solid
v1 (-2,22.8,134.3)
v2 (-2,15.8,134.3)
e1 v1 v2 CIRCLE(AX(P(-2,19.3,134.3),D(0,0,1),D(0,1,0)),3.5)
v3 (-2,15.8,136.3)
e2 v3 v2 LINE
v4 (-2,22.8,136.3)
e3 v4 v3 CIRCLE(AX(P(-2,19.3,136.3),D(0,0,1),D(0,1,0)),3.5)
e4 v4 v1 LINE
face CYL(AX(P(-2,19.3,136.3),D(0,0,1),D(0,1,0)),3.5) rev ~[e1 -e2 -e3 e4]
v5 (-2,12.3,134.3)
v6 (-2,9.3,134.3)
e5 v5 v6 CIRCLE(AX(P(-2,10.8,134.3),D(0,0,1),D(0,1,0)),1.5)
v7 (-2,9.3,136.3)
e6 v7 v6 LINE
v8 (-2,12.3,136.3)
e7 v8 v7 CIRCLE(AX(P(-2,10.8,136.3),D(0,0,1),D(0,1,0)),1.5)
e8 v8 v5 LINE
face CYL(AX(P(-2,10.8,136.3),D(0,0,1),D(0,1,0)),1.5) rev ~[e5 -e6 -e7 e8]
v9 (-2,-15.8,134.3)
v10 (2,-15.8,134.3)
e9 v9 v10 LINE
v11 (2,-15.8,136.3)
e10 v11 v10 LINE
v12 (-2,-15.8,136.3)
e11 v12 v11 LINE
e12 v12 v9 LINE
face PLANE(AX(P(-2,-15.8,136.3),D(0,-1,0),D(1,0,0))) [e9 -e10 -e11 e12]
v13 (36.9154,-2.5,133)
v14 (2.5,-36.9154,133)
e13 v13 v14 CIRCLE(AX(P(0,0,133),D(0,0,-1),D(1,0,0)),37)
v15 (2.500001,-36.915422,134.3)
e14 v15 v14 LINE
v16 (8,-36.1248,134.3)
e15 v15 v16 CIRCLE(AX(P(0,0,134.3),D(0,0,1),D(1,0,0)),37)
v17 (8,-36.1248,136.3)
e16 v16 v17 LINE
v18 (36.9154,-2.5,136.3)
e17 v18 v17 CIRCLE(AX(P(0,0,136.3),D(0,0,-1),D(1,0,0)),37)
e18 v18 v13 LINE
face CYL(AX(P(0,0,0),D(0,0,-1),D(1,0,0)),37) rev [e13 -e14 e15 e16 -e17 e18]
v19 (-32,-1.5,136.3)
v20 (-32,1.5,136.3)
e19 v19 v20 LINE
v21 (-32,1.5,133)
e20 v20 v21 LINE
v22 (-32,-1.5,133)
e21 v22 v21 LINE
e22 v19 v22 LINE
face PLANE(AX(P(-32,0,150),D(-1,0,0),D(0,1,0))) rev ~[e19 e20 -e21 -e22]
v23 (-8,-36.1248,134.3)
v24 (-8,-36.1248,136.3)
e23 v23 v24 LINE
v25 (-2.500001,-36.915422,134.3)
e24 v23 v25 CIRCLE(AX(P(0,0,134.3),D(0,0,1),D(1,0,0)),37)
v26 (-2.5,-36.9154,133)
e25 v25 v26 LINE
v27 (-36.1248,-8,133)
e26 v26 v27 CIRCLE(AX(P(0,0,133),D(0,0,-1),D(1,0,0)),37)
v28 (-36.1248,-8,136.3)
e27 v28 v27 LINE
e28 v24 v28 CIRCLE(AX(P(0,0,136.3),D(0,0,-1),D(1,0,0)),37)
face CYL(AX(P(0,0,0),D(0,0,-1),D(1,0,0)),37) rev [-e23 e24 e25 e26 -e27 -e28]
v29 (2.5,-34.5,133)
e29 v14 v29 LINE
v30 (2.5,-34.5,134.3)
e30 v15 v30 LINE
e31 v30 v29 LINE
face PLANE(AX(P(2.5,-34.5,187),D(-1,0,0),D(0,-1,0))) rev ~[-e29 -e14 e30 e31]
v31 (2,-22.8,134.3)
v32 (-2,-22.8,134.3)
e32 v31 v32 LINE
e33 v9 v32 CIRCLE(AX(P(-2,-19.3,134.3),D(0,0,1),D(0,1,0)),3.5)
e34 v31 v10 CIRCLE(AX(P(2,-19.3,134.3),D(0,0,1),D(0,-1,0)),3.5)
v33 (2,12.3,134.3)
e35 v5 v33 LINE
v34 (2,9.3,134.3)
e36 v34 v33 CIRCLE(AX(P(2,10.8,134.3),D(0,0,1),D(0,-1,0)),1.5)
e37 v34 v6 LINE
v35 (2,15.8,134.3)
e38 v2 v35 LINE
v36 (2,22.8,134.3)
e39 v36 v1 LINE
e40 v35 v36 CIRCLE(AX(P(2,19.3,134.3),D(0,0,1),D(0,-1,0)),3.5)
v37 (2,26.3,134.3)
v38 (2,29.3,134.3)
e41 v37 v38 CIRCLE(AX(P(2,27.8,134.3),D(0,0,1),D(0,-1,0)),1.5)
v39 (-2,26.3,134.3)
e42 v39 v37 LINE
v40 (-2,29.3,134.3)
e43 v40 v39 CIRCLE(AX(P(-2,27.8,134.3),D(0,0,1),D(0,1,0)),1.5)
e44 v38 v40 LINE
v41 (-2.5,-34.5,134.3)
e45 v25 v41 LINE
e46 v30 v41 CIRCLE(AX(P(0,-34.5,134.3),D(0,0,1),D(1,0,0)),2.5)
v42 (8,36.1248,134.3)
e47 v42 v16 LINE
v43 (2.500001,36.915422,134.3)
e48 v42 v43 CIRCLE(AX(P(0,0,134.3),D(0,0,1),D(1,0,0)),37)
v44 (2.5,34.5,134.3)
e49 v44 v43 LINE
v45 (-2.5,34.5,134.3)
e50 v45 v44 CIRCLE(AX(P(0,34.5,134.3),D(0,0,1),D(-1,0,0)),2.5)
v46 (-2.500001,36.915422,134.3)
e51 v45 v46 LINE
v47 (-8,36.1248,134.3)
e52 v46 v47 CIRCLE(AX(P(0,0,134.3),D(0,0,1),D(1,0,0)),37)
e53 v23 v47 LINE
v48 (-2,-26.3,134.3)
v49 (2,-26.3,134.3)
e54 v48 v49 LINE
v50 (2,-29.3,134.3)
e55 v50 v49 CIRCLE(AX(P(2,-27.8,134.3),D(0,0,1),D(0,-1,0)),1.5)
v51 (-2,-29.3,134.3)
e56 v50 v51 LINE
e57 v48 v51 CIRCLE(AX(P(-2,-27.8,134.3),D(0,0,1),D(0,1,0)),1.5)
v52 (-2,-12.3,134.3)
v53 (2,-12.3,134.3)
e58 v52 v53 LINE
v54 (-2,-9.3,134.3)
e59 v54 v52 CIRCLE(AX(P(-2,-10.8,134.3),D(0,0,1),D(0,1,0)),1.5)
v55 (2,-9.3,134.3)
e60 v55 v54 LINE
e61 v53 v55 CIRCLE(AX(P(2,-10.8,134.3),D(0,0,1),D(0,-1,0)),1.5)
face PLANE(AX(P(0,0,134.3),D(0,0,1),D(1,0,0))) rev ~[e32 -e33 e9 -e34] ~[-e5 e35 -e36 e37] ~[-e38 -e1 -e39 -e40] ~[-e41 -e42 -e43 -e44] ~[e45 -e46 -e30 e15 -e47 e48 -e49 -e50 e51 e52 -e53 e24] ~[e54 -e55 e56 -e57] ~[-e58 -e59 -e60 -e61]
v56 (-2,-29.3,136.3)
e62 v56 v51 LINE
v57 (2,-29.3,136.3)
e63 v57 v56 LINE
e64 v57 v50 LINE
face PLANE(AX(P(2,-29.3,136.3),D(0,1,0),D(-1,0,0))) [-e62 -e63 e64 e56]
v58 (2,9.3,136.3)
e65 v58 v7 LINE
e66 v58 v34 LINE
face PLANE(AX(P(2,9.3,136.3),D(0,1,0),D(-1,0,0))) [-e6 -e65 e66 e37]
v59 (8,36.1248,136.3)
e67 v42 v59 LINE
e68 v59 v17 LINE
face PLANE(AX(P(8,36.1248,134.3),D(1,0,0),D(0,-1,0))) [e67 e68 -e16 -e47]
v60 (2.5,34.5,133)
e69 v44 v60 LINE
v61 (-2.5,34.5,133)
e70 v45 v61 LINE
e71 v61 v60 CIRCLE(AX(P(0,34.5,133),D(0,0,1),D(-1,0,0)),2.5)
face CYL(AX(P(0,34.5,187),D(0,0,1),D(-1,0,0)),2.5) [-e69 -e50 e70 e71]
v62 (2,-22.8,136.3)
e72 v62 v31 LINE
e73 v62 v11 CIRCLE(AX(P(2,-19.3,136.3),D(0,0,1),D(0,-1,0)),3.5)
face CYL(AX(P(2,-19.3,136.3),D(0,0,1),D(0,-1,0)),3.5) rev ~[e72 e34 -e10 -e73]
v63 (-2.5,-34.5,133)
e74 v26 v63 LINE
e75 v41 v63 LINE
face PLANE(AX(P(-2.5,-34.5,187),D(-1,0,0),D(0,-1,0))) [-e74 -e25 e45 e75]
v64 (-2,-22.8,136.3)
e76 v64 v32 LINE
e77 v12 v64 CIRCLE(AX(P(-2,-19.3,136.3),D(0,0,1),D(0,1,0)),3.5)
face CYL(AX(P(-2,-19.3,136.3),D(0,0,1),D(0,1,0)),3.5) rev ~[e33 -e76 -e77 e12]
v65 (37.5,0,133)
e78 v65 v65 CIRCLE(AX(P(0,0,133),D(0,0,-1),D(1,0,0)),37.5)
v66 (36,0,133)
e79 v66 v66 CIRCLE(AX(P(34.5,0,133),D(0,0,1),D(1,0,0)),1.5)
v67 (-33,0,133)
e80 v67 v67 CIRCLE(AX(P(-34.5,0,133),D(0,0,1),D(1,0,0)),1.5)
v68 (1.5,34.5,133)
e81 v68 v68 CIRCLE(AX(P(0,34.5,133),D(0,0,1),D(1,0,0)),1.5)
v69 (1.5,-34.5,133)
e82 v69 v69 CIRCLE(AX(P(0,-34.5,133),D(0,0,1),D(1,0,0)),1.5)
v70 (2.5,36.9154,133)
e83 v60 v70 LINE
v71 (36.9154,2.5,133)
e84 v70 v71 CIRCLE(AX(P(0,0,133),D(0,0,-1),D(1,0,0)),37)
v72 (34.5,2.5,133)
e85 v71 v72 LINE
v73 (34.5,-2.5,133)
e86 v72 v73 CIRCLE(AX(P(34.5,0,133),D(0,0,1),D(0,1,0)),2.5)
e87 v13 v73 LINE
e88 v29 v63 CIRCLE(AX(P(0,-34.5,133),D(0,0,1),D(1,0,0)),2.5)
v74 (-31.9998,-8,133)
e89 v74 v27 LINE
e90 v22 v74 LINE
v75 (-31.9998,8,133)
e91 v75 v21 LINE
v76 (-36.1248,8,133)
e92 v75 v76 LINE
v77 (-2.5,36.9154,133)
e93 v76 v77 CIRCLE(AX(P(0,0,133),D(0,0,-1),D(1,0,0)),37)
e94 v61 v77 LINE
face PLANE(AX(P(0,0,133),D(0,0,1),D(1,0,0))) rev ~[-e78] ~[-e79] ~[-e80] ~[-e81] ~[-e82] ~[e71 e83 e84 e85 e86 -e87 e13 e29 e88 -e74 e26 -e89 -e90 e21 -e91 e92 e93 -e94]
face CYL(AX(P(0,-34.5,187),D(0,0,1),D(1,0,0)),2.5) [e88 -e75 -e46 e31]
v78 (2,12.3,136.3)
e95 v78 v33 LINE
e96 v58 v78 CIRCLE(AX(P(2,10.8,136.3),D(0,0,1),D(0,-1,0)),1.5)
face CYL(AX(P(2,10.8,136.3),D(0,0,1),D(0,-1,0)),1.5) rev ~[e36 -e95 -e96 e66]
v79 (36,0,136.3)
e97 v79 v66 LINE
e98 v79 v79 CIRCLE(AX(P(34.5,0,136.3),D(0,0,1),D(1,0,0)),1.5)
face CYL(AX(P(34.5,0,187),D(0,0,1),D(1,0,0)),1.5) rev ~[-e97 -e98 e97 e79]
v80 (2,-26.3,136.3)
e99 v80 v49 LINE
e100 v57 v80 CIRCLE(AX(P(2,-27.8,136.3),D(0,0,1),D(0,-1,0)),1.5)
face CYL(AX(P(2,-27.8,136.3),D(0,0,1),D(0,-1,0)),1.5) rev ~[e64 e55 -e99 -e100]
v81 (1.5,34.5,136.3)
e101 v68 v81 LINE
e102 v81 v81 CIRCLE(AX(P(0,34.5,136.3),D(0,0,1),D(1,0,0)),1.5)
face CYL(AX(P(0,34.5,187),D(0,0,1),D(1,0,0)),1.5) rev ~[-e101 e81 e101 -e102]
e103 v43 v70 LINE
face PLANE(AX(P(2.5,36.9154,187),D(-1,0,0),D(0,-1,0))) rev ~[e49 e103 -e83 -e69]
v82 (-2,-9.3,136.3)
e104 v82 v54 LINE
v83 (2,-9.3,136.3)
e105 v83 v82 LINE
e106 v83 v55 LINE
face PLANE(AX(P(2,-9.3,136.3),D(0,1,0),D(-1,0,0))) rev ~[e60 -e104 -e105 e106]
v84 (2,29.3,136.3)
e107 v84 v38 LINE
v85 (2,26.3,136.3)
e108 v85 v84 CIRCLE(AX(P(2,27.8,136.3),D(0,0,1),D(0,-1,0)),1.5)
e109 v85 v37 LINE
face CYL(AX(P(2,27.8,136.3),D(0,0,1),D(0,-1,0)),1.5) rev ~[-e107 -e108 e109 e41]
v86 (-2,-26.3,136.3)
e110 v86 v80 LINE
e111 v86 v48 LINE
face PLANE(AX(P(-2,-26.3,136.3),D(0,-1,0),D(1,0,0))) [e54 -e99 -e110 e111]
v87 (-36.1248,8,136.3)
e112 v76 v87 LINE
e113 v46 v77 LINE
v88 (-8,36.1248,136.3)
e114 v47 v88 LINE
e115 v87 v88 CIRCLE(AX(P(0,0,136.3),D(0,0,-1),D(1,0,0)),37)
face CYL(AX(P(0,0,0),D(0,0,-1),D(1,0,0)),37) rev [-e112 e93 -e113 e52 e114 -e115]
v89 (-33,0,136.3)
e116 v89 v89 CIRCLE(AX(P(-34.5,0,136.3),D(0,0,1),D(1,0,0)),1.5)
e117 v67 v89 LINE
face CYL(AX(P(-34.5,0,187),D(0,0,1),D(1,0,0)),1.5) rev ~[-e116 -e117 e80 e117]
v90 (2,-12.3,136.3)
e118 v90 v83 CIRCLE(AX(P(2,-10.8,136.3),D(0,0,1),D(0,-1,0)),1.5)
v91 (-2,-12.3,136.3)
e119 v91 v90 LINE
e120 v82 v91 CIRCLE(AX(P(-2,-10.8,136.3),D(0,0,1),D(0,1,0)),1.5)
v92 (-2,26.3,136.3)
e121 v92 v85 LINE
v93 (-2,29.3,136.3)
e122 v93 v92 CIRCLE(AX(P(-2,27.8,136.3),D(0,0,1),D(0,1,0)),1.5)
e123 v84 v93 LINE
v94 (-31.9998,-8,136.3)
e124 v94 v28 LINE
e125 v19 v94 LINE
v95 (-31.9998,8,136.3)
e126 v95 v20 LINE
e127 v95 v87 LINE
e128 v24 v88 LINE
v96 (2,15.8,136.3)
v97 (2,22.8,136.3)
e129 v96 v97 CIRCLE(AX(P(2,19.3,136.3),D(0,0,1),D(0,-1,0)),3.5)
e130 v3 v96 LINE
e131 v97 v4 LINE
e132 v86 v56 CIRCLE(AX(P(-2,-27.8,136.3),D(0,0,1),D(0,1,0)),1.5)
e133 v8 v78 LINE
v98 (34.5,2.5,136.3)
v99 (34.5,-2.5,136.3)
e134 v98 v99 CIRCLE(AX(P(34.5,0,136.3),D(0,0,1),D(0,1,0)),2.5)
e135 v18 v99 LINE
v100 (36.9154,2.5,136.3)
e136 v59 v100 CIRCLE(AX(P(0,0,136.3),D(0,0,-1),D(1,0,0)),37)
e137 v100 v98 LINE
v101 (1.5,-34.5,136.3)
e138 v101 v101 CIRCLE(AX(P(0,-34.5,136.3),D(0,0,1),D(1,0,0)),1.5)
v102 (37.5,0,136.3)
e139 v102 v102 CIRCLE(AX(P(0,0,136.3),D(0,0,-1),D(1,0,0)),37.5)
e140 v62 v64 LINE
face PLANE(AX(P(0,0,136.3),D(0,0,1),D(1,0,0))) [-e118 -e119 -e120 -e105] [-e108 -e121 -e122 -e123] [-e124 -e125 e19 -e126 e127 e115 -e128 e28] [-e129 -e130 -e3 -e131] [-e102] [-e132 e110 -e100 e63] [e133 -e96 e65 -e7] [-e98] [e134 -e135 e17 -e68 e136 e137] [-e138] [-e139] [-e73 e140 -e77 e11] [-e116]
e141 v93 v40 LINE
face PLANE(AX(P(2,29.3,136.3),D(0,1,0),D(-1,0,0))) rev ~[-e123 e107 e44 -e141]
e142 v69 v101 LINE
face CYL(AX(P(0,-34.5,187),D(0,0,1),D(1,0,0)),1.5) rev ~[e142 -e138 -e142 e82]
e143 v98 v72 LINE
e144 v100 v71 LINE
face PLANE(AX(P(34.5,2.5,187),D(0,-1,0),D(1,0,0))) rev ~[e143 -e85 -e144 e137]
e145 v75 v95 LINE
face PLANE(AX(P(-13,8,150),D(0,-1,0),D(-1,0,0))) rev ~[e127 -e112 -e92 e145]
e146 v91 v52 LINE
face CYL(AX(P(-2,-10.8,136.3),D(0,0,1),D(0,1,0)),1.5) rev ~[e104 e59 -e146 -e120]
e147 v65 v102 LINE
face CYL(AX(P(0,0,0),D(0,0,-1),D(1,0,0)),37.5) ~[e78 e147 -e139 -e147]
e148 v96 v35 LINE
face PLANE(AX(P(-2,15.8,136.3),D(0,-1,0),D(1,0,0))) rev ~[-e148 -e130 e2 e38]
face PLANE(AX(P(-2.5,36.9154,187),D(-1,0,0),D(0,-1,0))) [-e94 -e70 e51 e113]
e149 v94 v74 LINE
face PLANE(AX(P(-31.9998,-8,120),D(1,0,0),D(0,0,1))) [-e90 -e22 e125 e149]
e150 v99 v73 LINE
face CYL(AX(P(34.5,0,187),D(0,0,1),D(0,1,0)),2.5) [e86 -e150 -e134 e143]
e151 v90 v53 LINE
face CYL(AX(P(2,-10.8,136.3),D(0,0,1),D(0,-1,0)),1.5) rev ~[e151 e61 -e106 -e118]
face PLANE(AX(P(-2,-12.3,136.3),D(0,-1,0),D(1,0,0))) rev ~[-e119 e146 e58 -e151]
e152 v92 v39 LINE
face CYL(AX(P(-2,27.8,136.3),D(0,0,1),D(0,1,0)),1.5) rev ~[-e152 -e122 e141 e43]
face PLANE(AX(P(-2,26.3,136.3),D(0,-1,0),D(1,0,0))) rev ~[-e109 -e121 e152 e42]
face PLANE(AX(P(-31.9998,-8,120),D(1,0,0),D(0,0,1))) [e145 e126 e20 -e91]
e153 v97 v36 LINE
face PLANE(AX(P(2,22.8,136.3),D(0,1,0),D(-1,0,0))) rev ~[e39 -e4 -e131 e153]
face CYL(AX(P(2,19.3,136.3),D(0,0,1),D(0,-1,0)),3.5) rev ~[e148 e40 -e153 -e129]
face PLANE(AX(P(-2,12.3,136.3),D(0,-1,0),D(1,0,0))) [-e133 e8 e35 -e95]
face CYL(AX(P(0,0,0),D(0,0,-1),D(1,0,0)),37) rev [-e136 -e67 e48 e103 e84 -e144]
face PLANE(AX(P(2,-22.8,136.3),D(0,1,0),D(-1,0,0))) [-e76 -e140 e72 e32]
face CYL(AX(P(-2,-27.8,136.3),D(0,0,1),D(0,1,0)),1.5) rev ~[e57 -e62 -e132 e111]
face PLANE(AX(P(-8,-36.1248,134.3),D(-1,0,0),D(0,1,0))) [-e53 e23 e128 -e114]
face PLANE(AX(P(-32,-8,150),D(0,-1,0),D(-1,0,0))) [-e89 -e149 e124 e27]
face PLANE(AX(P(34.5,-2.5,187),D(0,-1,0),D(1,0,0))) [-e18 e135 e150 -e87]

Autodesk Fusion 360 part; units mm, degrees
sketch "Esboço2" plane through (0, 0, 0) normal (0, 0, 1) x (1, 0, 0)
  circle A0 centre (0, 0) radius 37.5
  circle A1 centre (0, 0) radius 37
  dimension "d6" = 75
  dimension "d7" = 74
extrude "Extrusão2" add sketch "Esboço2" along normal blind 190
ref_plane "Plano de trabalho9" through (0, 0, 187) normal (0, 0, 1) x (1, 0, 0)
sketch "Esboço10" plane through (0, 0, 187) normal (0, 0, 1) x (1, 0, 0)
  circle A0 centre (0, 0) radius 34.5 construction
  line L0 (0, 0) -> (-68.1762, 0) construction
  line L1 (0, 0) -> (60, 0) construction
  line L2 (0, 0) -> (0, 45) construction
  line L3 (0, 0) -> (0, -43.1659) construction
  circle A1 centre (34.5, 0) radius 1.5
  line L4 (3, -43) -> (3, -42)
  circle A2 centre (0, 34.5) radius 1.5
  circle A3 centre (-34.5, 0) radius 1.5
  circle A4 centre (0, -34.5) radius 1.5
  arc A5 (34.5, 2.5) -> (34.5, -2.5) centre (34.5, 0) ccw
  arc A6 (-2.5, 34.5) -> (2.5, 34.5) centre (0, 34.5) ccw
  arc A7 (-34.5, -2.5) -> (-34.5, 2.5) centre (-34.5, 0) ccw
  arc A8 (2.5, -34.5) -> (-2.5, -34.5) centre (0, -34.5) ccw
  circle A9 centre (0, 0) radius 37
  line L5 (-36.9154, 2.5) -> (-34.4093, 2.5)
  line L6 (-36.9154, -2.5) -> (-34.4093, -2.5)
  line L7 (34.5, 2.5) -> (36.9154, 2.5)
  line L8 (34.5, -2.5) -> (36.9154, -2.5)
  line L9 (2.5, 36.9154) -> (2.5, 34.4093)
  line L10 (-2.5, 36.9154) -> (-2.5, 34.4093)
  line L11 (-2.5, -34.4093) -> (-2.5, -36.9154)
  line L12 (2.5, -34.4093) -> (2.5, -36.9154)
  dimension "d82" = 69
  dimension "d83" = 3
  dimension "d84" = 2.5
  dimension "d85" = 2.5
  dimension "d87" = 360
  dimension "d89" = 360
  dimension "d90" = 2.5
extrude "Extrusão12" add sketch "Esboço10" against normal blind 184 contours A5 A9 L7 L8 | A6 A9 L9 L10 | A8 A9 L11 L12 | A7 A9 L5 L6
thread "Rosca3"
ref_plane "Plano de trabalho3" through (0, 0, 32) normal (0, 0, 1) x (1, 0, 0)
sketch "Esboço3" plane through (0, 0, 32) normal (0, 0, 1) x (1, 0, 0)
  line L0 (0, 0) -> (0, 37) construction
  line L1 (34.2491, 14) -> (-34.2491, 14)
  circle A0 centre (0, 0) radius 37
  line L2 (31.1288, 20) -> (-31.1288, 20)
  line L3 (32.8634, 17) -> (-32.8634, 17)
  circle A1 centre (0, 0) radius 50
  circle A2 centre (0, 0) radius 37.5
  line L4 (-8, 0) -> (8, 0)
  line L5 (8, 0) -> (8, 36.1248)
  line L6 (-8, 0) -> (-8, 36.1248)
  circle A3 centre (0, 34.5) radius 1.5
  line L7 (1.5, 32.5) -> (1.5, 0)
  arc A4 (-2.5, 34.5) -> (2.5, 34.5) centre (0, 34.5) ccw
  line L8 (-1.5, 32.5) -> (-1.5, 0)
  line L9 (27.8634, 24.3441) -> (27.8634, 11)
  line L10 (27.8634, 11) -> (35.327, 11)
  line L11 (-27.8634, 11) -> (-35.327, 11)
  line L12 (-27.8634, 24.3441) -> (-27.8634, 11)
  line L13 (-30.4631, 21) -> (30.4631, 21)
  line L14 (-34.641, 13) -> (34.641, 13)
  line L15 (0, 32) -> (8, 32)
  line L16 (0, 32) -> (-8, 32)
  dimension "d12" = 6
  dimension "d15" = 3
  dimension "d17" = 75
  dimension "d18" = 100
  dimension "d41" = 14
  dimension "d51" = 8
  dimension "d52" = 16
  dimension "d99" = 3
  dimension "d100" = 2.5
  dimension "d115" = 6.5
  dimension "d123" = 5
  dimension "d124" = 6
  dimension "d143" = 4
  dimension "d144" = 4
extrude "Extrusão21" add sketch "Esboço3" along normal blind 6 and the other way blind 6 contours L1 A0 L9 L14 | L1 A0 L3 L9 | A0 L9 L10 L14 | A0 L2 L3 L9 | A0 L2 L9 L13 | A0 L9 L13 | A0 L11 L12 L14 | L1 A0 L12 L14 | L1 A0 L3 L12 | A0 L2 L3 L12 | A0 L12 L13 | A0 L2 L12 L13
sketch "Esboço18" plane through (-27.8634, 0, 0) normal (1, 0, 0) x (0, 1, 0)
  line L0 (24.3441, 26) -> (24.3441, 38)
  line L1 (24.3441, 38) -> (11, 38)
  line L2 (11, 38) -> (11, 26)
  line L3 (11, 26) -> (24.3441, 26)
  circle A0 centre (17, 32) radius 4
  point P0 (11, 32)
  dimension "d166" = 8
  dimension "d167" = 6
  dimension "d168" = 6
ref_plane "Plano de trabalho11" through (0, 0, 0) normal (1, 0, 0) x (0, 1, 0)
extrude "Extrusão23" cut sketch "Esboço18" against normal blind 15 contours A0
extrude "Extrusão7" add sketch "Esboço3" along normal blind 30 and the other way blind 30 contours L1 L5 L7 L14 | L1 L3 L5 L7 | L4 L5 L7 L14 | L2 L3 L5 L7 | L1 L6 L8 L14 | L1 L3 L6 L8 | L2 L5 L7 L13 | L2 L3 L6 L8 | L4 L6 L8 L14 | L5 L7 L13 L15 | A0 L5 L6 L7 A4 L8 L15 L16 | L2 L6 L8 L13 | L6 L8 L13 L16 | L7 A4 L15 | A4 L8 L16
sketch "Esboço19" plane through (27.8634, 0, 0) normal (-1, 0, 0) x (0, -1, 0)
  line L0 (-11, 26) -> (-11, 38)
  line L1 (-11, 38) -> (-24.3441, 38)
  line L2 (-24.3441, 38) -> (-24.3441, 26)
  line L3 (-24.3441, 26) -> (-11, 26)
extrude "Extrusão24" cut sketch "Esboço18" along normal blind 80 contours A0
sketch "Esboço11" plane through (8, 0, 0) normal (1, 0, 0) x (0, 1, 0)
  line L0 (0, 2) -> (36.1248, 2)
  line L1 (36.1248, 2) -> (36.1248, 62)
  line L2 (36.1248, 62) -> (0, 62)
  line L3 (0, 62) -> (0, 2)
  circle A0 centre (17, 32) radius 3
  circle A1 centre (17, 32) radius 9.5
  circle A2 centre (17, 32) radius 12.5
  line L4 (36.1248, 32) -> (36.1248, -5) construction
  line L5 (0, 32) -> (36.1248, 32)
  line L6 (30.1248, 2) -> (8.3278, 22.9976)
  line L7 (30.1248, 62) -> (8.3278, 41.0024)
  line L8 (30.1248, 2) -> (31.9998, 2)
  line L9 (31.9998, 2) -> (31.9998, 32)
  line L10 (30.1248, 62) -> (31.9998, 62)
  line L11 (31.9998, 62) -> (31.9998, 32)
  circle A3 centre (17, 32) radius 4
  point P0 (14, 32)
  point P1 (20, 32)
  dimension "d106" = 6
  dimension "d107" = 19
  dimension "d109" = 25
  dimension "d110" = 6
  dimension "d147" = 1.875
extrude "Extrusão13" cut sketch "Esboço11" against normal blind 16 contours L0 L3 A2 L5 L6 | L0 A2 L5 L6 L8 L9 | L2 L3 A2 L5 L7 | A1 A2 L5 | A1 A2 L5 | L2 A2 L5 L7 L10 L11 | A1 L5 A3 | A1 L5 A3 | A0 L5 A3 | A0 L5 A3 | A0 L5 | A0 L5
ref_plane "Plano de trabalho4" through (0, 0, 150) normal (0, 0, 1) x (1, 0, 0)
sketch "Esboço4" plane through (0, 0, 150) normal (0, 0, 1) x (1, 0, 0)
  circle A0 centre (0, 0) radius 37
  circle A1 centre (0, 0) radius 50
  circle A2 centre (0, 0) radius 37.5
  line L0 (-20, -31.1288) -> (-20, 31.1288)
  line L1 (-17, -32.8634) -> (-17, 32.8634)
  line L2 (-14, -34.2491) -> (-14, 34.2491)
  line L3 (0, 8) -> (0, -8)
  line L4 (0, 8) -> (-36.1248, 8)
  line L5 (0, -8) -> (-36.1248, -8)
  line L6 (0, 0) -> (-37, 0) construction
  circle A3 centre (-34.5, 0) radius 1.5
  line L7 (0, 1.5) -> (-32.5, 1.5)
  arc A4 (-34.5, -2.5) -> (-34.5, 2.5) centre (-34.5, 0) ccw
  line L8 (0, -1.5) -> (-32.5, -1.5)
  line L9 (-24.3441, -27.8634) -> (-11, -27.8634)
  line L10 (-11, -27.8634) -> (-11, -35.327)
  line L11 (-24.3441, 27.8634) -> (-11, 27.8634)
  line L12 (-11, 27.8634) -> (-11, 35.327)
  line L13 (-13, 34.641) -> (-13, -34.641)
  line L14 (-21, 30.4631) -> (-21, -30.4631)
  line L15 (-32, 0) -> (-32, 8)
  line L16 (-32, 0) -> (-32, -8)
  dimension "d28" = 75
  dimension "d29" = 100
  dimension "d38" = 14
  dimension "d39" = 6
  dimension "d40" = 3
  dimension "d43" = 16
  dimension "d44" = 8
  dimension "d101" = 3
  dimension "d102" = 2.5
  dimension "d116" = 6.5
  dimension "d135" = 6
  dimension "d136" = 5
  dimension "d145" = 4
  dimension "d146" = 4
extrude "Extrusão25" add sketch "Esboço4" along normal blind 6 and the other way blind 6 contours A0 L11 L12 L13 | A0 L9 L10 L13 | A0 L2 L11 L13 | A0 L2 L9 L13 | A0 L1 L2 L11 | A0 L1 L2 L9 | A0 L0 L1 L11 | A0 L0 L1 L9 | A0 L0 L11 L14 | A0 L0 L9 L14 | A0 L11 L14 | A0 L9 L14
sketch "Esboço20" plane through (0, 27.8634, 0) normal (0, -1, 0) x (1, 0, 0)
  line L0 (-11, 144) -> (-11, 156)
  line L1 (-11, 156) -> (-24.3441, 156)
  line L2 (-24.3441, 156) -> (-24.3441, 144)
  line L3 (-24.3441, 144) -> (-11, 144)
  circle A0 centre (-17, 150) radius 4
  dimension "d179" = 8
  dimension "d180" = 6
  dimension "d182" = 6
extrude "Extrusão26" cut sketch "Esboço20" against normal blind 15 contours A0
sketch "Esboço21" plane through (0, -27.8634, 0) normal (0, 1, 0) x (-1, 0, 0)
  line L0 (24.3441, 144) -> (24.3441, 156)
  line L1 (24.3441, 156) -> (11, 156)
  line L2 (11, 156) -> (11, 144)
  line L3 (11, 144) -> (24.3441, 144)
  circle A0 centre (17, 150) radius 4
  dimension "d185" = 8
  dimension "d186" = 6
  dimension "d187" = 6
extrude "Extrusão27" cut sketch "Esboço21" against normal blind 15 contours A0
extrude "Extrusão6" add sketch "Esboço4" along normal blind 30 and the other way blind 30 contours L2 L4 L7 L13 | L3 L4 L7 L13 | L3 L5 L8 L13 | L2 L5 L8 L13 | L1 L2 L4 L7 | L1 L2 L5 L8 | L0 L1 L4 L7 | L0 L1 L5 L8 | L0 L4 L7 L14 | L0 L5 L8 L14 | A0 L4 L5 L7 A4 L8 L15 L16 | L4 L7 L14 L15 | L5 L8 L14 L16 | L7 A4 L15 | A4 L8 L16
sketch "Esboço13" plane through (0, -8, 0) normal (0, -1, 0) x (1, 0, 0)
  line L0 (0, 120) -> (0, 180)
  line L1 (0, 180) -> (-36.1248, 180)
  line L2 (-36.1248, 180) -> (-36.1248, 120)
  line L3 (-36.1248, 120) -> (0, 120)
  circle A0 centre (-17, 150) radius 3
  circle A1 centre (-17, 150) radius 9.5
  circle A2 centre (-17, 150) radius 12.5
  line L4 (-36.1248, 150) -> (-36.1248, 198.4836) construction
  line L5 (-30.1248, 180) -> (-6.6704, 157.4058)
  line L6 (0, 150) -> (-36.1248, 150)
  line L7 (-30.1248, 120) -> (-6.6704, 142.5942)
  line L8 (-30.1248, 180) -> (-31.9998, 180)
  line L9 (-31.9998, 180) -> (-31.9998, 150)
  line L10 (-30.1248, 120) -> (-31.9998, 120)
  line L11 (-31.9998, 120) -> (-31.9998, 150)
  point P0 (-14, 150)
  point P1 (-20, 150)
  dimension "d117" = 6
  dimension "d118" = 19
  dimension "d119" = 25
  dimension "d120" = 6
  dimension "d148" = 1.875
extrude "Extrusão14" cut sketch "Esboço13" against normal blind 16 contours L0 L3 A2 L6 L7 | L0 L1 A2 L5 L6 | L3 A2 L6 L7 L10 L11 | A1 A2 L6 | A1 A2 L6 | L1 A2 L5 L6 L8 L9 | A0 A1 L6 | A0 A1 L6 | A0 L6 | A0 L6
ref_plane "Plano de trabalho5" through (0, 0, 0) normal (1, 0, 0) x (0, 1, 0)
ref_plane "Plano de trabalho6" through (0, 0, 0) normal (0, 1, 0) x (0, 0, 1)
ref_plane "Plano de trabalho7" through (0, 0, 134.3) normal (0, 0, 1) x (1, 0, 0)
sketch "Esboço8" plane through (0, 0, 134.3) normal (0, 0, 1) x (1, 0, 0)
  line L0 (46.3444, 0) -> (0, 0) construction
  line L1 (8, 36.1248) -> (8, -36.1248)
  line L2 (-8, -36.1248) -> (-8, 36.1248)
  circle A0 centre (0, 0) radius 37
  line L3 (0, 0) -> (0, 37) construction
  circle A1 centre (0, 34.5) radius 1.5
  circle A2 centre (0, -34.5) radius 1.5
  dimension "d72" = 8
  dimension "d73" = 8
  dimension "d95" = 2.5
  dimension "d96" = 3
extrude "Extrusão10" add sketch "Esboço8" along normal blind 2 contours L1 L2 A0
ref_plane "Plano de trabalho8" through (0, 0, 45.7) normal (0, 0, 1) x (1, 0, 0)
sketch "Esboço9" plane through (0, 0, 45.7) normal (0, 0, 1) x (1, 0, 0)
  line L0 (0, 0) -> (-37, 0) construction
  line L1 (-36.1248, 8) -> (36.1248, 8)
  line L2 (-36.1248, -8) -> (36.1248, -8)
  circle A0 centre (0, 0) radius 37
  circle A1 centre (-34.5, 0) radius 1.5
  line L3 (0, 0) -> (0, 43.2459) construction
  circle A2 centre (34.5, 0) radius 1.5
  dimension "d77" = 8
  dimension "d78" = 8
  dimension "d97" = 3
  dimension "d98" = 2.5
extrude "Extrusão11" add sketch "Esboço9" along normal blind 2 contours L1 L2 A0
ref_plane "Plano de trabalho10" through (8, 18.0624, 32) normal (1, 0, 0) x (0, 1, 0)
sketch "Esboço16" plane through (-31.9998, 0, 0) normal (1, 0, 0) x (0, 1, 0)
  line L0 (1.5, 180) -> (1.5, 120)
  line L1 (1.5, 120) -> (8, 120)
  line L2 (8, 120) -> (8, 180)
  line L3 (8, 180) -> (1.5, 180)
  line L4 (4.75, 180) -> (4.75, 120) construction
  circle A0 centre (4.75, 170) radius 1.5
  circle A1 centre (4.75, 130) radius 1.5
  line L5 (8, 150) -> (-12.335, 150) construction
  line L6 (0, 2.5) -> (0, 20)
  circle A2 centre (-4.75, 170) radius 1.5
  circle A3 centre (-4.75, 130) radius 1.5
  dimension "d149" = 3
  dimension "d150" = 3
  dimension "d151" = 40
  dimension "d152" = 20
extrude "Extrusão19" cut sketch "Esboço16" against normal blind 10 contours A0 | A1 | A2 | A3
sketch "Esboço17" plane through (0, 31.9998, 0) normal (0, -1, 0) x (1, 0, 0)
  line L0 (1.5, 62) -> (1.5, 2)
  line L1 (1.5, 2) -> (8, 2)
  line L2 (8, 2) -> (8, 62)
  line L3 (8, 62) -> (1.5, 62)
  line L4 (4.75, 2) -> (4.75, 62) construction
  line L5 (8, 32) -> (-12, 32) construction
  circle A0 centre (4.75, 52) radius 1.5
  circle A1 centre (4.75, 12) radius 1.5
  line L6 (0, 1.75) -> (0, 22.5)
  circle A2 centre (-4.75, 12) radius 1.5
  circle A3 centre (-4.75, 52) radius 1.5
  dimension "d155" = 3
  dimension "d156" = 3
  dimension "d157" = 40
  dimension "d158" = 20
extrude "Extrusão20" cut sketch "Esboço17" against normal blind 10 contours A0 | A1 | A2 | A3
thread "Rosca4"
thread "Rosca5"
sketch "Esboço22" plane through (0, 0, 136.3) normal (0, 0, 1) x (-1, 0, 0)
  line L0 (2.5, 36.9154) -> (2.5, 34.5)
  arc A0 (-2.5, 34.5) -> (2.5, 34.5) centre (0, 34.5) ccw
  line L1 (-2.5, 34.5) -> (-2.5, 36.9154)
  arc A1 (-2.5, 36.9154) -> (-8, 36.1248) centre (0, 0) ccw
  line L2 (-8, 36.1248) -> (-8, -36.1248)
  arc A2 (-8, -36.1248) -> (-2.5, -36.9154) centre (0, 0) ccw
  line L3 (-2.5, -36.9154) -> (-2.5, -34.5)
  arc A3 (2.5, -34.5) -> (-2.5, -34.5) centre (0, -34.5) ccw
  line L4 (2.5, -34.5) -> (2.5, -36.9154)
  arc A4 (2.5, -36.9154) -> (8, -36.1248) centre (0, 0) ccw
  line L5 (8, -36.1248) -> (8, 36.1248)
  arc A5 (8, 36.1248) -> (2.5, 36.9154) centre (0, 0) ccw
  line L6 (0, 0) -> (-21, 0) construction
  line L7 (0, 0) -> (0, -19.3) construction
  line L8 (2, -15.8) -> (-2, -15.8)
  arc A6 (-2, -15.8) -> (-2, -22.8) centre (-2, -19.3) ccw
  line L9 (-2, -22.8) -> (2, -22.8)
  arc A7 (2, -22.8) -> (2, -15.8) centre (2, -19.3) ccw
  line L10 (2, -19.3) -> (-2, -19.3) construction
  arc A8 (-2, 22.8) -> (-2, 15.8) centre (-2, 19.3) ccw
  line L11 (2, 15.8) -> (-2, 15.8)
  arc A9 (2, 15.8) -> (2, 22.8) centre (2, 19.3) ccw
  line L12 (-2, 22.8) -> (2, 22.8)
  circle A10 centre (0, 10.8) radius 1.5 construction
  line L13 (2, 19.3) -> (-2, 19.3) construction
  line L14 (2, 12.3) -> (-2, 12.3)
  arc A11 (-2, 12.3) -> (-2, 9.3) centre (-2, 10.8) ccw
  line L15 (-2, 9.3) -> (2, 9.3)
  arc A12 (2, 9.3) -> (2, 12.3) centre (2, 10.8) ccw
  line L16 (2, 10.8) -> (-2, 10.8) construction
  line L17 (2, 26.3) -> (-2, 26.3)
  arc A13 (2, 26.3) -> (2, 29.3) centre (2, 27.8) ccw
  line L18 (-2, 29.3) -> (2, 29.3)
  arc A14 (-2, 29.3) -> (-2, 26.3) centre (-2, 27.8) ccw
  arc A15 (2, -29.3) -> (2, -26.3) centre (2, -27.8) ccw
  line L19 (2, -26.3) -> (-2, -26.3)
  arc A16 (-2, -26.3) -> (-2, -29.3) centre (-2, -27.8) ccw
  line L20 (-2, -29.3) -> (2, -29.3)
  arc A17 (2, -12.3) -> (2, -9.3) centre (2, -10.8) ccw
  line L21 (-2, -9.3) -> (2, -9.3)
  arc A18 (-2, -9.3) -> (-2, -12.3) centre (-2, -10.8) ccw
  line L22 (2, -12.3) -> (-2, -12.3)
  point P0 (0, -19.3)
  point P1 (0, 10.8)
  dimension "d191" = 19.3
  dimension "d195" = 2
  dimension "d196" = 3.5
  dimension "d204" = 3
  dimension "d205" = 8.5
  dimension "d230" = 1.5
  dimension "d231" = 4
extrude "Extrusão28" cut sketch "Esboço22" against normal blind 5 contours L8 A6 L9 A7 | A8 L11 A9 L12 | L14 A11 L15 A12 | L17 A13 L18 A14 | A15 L19 A16 L20 | A17 L21 A18 L22
sketch "Esboço23" plane through (0, 0, 45.7) normal (0, 0, -1) x (1, 0, 0)
  line L0 (36.9154, -2.5) -> (34.5, -2.5)
  arc A0 (34.5, 2.5) -> (34.5, -2.5) centre (34.5, 0) ccw
  line L1 (34.5, 2.5) -> (36.9154, 2.5)
  arc A1 (36.9154, 2.5) -> (36.1248, 8) centre (0, 0) ccw
  line L2 (36.1248, 8) -> (-36.1248, 8)
  arc A2 (-36.1248, 8) -> (-36.9154, 2.5) centre (0, 0) ccw
  line L3 (-36.9154, 2.5) -> (-34.5, 2.5)
  arc A3 (-34.5, -2.5) -> (-34.5, 2.5) centre (-34.5, 0) ccw
  line L4 (-34.5, -2.5) -> (-36.9154, -2.5)
  arc A4 (-36.9154, -2.5) -> (-36.1248, -8) centre (0, 0) ccw
  line L5 (-36.1248, -8) -> (36.1248, -8)
  arc A5 (36.1248, -8) -> (36.9154, -2.5) centre (0, 0) ccw
  line L6 (0, 0) -> (0, -19) construction
  line L7 (0, 0) -> (19.3, 0)
  line L8 (15.8, 2.5) -> (15.8, -2.5)
  arc A6 (15.8, -2.5) -> (22.8, -2.5) centre (19.3, -2.5) ccw
  line L9 (22.8, -2.5) -> (22.8, 2.5)
  arc A7 (22.8, 2.5) -> (15.8, 2.5) centre (19.3, 2.5) ccw
  line L10 (19.3, 2.5) -> (19.3, -2.5) construction
  line L11 (-15.8, 2.5) -> (-15.8, -2.5)
  arc A8 (-15.8, 2.5) -> (-22.8, 2.5) centre (-19.3, 2.5) ccw
  line L12 (-22.8, -2.5) -> (-22.8, 2.5)
  arc A9 (-22.8, -2.5) -> (-15.8, -2.5) centre (-19.3, -2.5) ccw
  circle A10 centre (10.8, 0) radius 1.5 construction
  circle A11 centre (27.8, 0) radius 1.5 construction
  line L13 (9.3, 2.5) -> (9.3, -2.5)
  arc A12 (9.3, -2.5) -> (12.3, -2.5) centre (10.8, -2.5) ccw
  line L14 (12.3, -2.5) -> (12.3, 2.5)
  arc A13 (12.3, 2.5) -> (9.3, 2.5) centre (10.8, 2.5) ccw
  line L15 (10.8, 2.5) -> (10.8, -2.5) construction
  line L16 (26.3, -2.5) -> (26.3, 2.5)
  arc A14 (26.3, -2.5) -> (29.3, -2.5) centre (27.8, -2.5) ccw
  line L17 (29.3, 2.5) -> (29.3, -2.5)
  arc A15 (29.3, 2.5) -> (26.3, 2.5) centre (27.8, 2.5) ccw
  line L18 (-12.3, -2.5) -> (-12.3, 2.5)
  arc A16 (-12.3, -2.5) -> (-9.3, -2.5) centre (-10.8, -2.5) ccw
  line L19 (-9.3, 2.5) -> (-9.3, -2.5)
  arc A17 (-9.3, 2.5) -> (-12.3, 2.5) centre (-10.8, 2.5) ccw
  line L20 (-26.3, -2.5) -> (-26.3, 2.5)
  arc A18 (-29.3, -2.5) -> (-26.3, -2.5) centre (-27.8, -2.5) ccw
  line L21 (-29.3, 2.5) -> (-29.3, -2.5)
  arc A19 (-26.3, 2.5) -> (-29.3, 2.5) centre (-27.8, 2.5) ccw
  point P0 (19.3, 0)
  point P1 (10.8, 0)
  dimension "d199" = 3.5
  dimension "d200" = 5
  dimension "d201" = 19.3
  dimension "d206" = 3
  dimension "d207" = 8.5
  dimension "d228" = 2.5
  dimension "d229" = 1.5
extrude "Extrusão29" cut sketch "Esboço23" against normal blind 10 contours L7 L13 L14 A13 | L8 A6 L9 A7 | L7 L13 A12 L14 | L11 A8 L12 A9 | L16 A14 L17 A15 | L20 A18 L21 A19
ref_plane "Plano de trabalho12" through (0, 0, 106.3) normal (0, 0, 1) x (1, 0, 0)
sketch "Esboço24" plane through (0, 0, 106.3) normal (0, 0, 1) x (1, 0, 0)
  line L0 (0, 0) -> (28.1868, 0) construction
  line L1 (16, 0) -> (16, 33.3617)
  circle A0 centre (0, 0) radius 37
  line L2 (16, 0) -> (16, -33.3617)
  line L3 (0, 0) -> (0, 19.3) construction
  line L4 (-16, 0) -> (-16, 33.3617)
  line L5 (-16, 0) -> (-16, -33.3617)
  line L6 (-2, 6.8) -> (2, 6.8)
  arc A1 (2, 6.8) -> (2, 31.8) centre (2, 19.3) ccw
  line L7 (2, 31.8) -> (-2, 31.8)
  arc A2 (-2, 31.8) -> (-2, 6.8) centre (-2, 19.3) ccw
  line L8 (-2, 19.3) -> (2, 19.3) construction
  arc A3 (2, -31.8) -> (2, -6.8) centre (2, -19.3) ccw
  arc A4 (-2, -6.8) -> (-2, -31.8) centre (-2, -19.3) ccw
  line L9 (-2, -6.8) -> (2, -6.8)
  line L10 (2, -31.8) -> (-2, -31.8)
  circle A5 centre (0, 34.5) radius 1.5
  circle A6 centre (0, -34.5) radius 1.5
  point P0 (0, 19.3)
  dimension "d209" = 16
  dimension "d210" = 12.5
  dimension "d211" = 4
  dimension "d212" = 19.3
  dimension "d215" = 3
  dimension "d216" = 34.5
ref_plane "Plano de trabalho13" through (0, 0, 55.7) normal (0, 0, -1) x (-1, 0, 0)
ref_plane "Plano de trabalho14" through (0, 0, 60) normal (0, 0, 1) x (1, 0, 0)
sketch "Esboço25" plane through (0, 0, 55.7) normal (0, 0, -1) x (1, 0, 0)
  line L0 (-33.3617, 16) -> (33.3617, 16)
  circle A0 centre (0, 0) radius 37
  line L1 (0, 0) -> (-19.3, 0) construction
  line L2 (-33.3617, -16) -> (33.3617, -16)
  line L3 (-6.8, -2) -> (-6.8, 2)
  arc A1 (-6.8, 2) -> (-31.8, 2) centre (-19.3, 2) ccw
  line L4 (-31.8, 2) -> (-31.8, -2)
  arc A2 (-31.8, -2) -> (-6.8, -2) centre (-19.3, -2) ccw
  line L5 (-19.3, -2) -> (-19.3, 2) construction
  circle A3 centre (-34.5, 0) radius 1.5
  line L6 (0, 0) -> (0, -12) construction
  arc A4 (31.8, 2) -> (6.8, 2) centre (19.3, 2) ccw
  line L7 (6.8, -2) -> (6.8, 2)
  arc A5 (6.8, -2) -> (31.8, -2) centre (19.3, -2) ccw
  circle A6 centre (34.5, 0) radius 1.5
  line L8 (31.8, 2) -> (31.8, -2)
  point P0 (-19.3, 0)
  dimension "d219" = 16
  dimension "d220" = 12.5
  dimension "d221" = 4
  dimension "d222" = 19.3
  dimension "d224" = 34.5
  dimension "d225" = 3
ref_plane "Plano de trabalho15" through (0, 0, 133) normal (0, 0, 1) x (1, 0, 0)
ref_plane "Plano de trabalho16" through (0, 0, 136.3) normal (0, 0, 1) x (1, 0, 0)
sketch "Esboço26" plane through (0, 0, 133) normal (0, 0, 1) x (1, 0, 0)
  circle A0 centre (0, 0) radius 42.6398
extrude "Extrusão32" cut sketch "Esboço26" against normal blind 200
sketch "Esboço27" plane through (0, 0, 136.3) normal (0, 0, 1) x (1, 0, 0)
  circle A0 centre (0, 0) radius 41.2311
extrude "Extrusão33" cut sketch "Esboço27" along normal blind 100
